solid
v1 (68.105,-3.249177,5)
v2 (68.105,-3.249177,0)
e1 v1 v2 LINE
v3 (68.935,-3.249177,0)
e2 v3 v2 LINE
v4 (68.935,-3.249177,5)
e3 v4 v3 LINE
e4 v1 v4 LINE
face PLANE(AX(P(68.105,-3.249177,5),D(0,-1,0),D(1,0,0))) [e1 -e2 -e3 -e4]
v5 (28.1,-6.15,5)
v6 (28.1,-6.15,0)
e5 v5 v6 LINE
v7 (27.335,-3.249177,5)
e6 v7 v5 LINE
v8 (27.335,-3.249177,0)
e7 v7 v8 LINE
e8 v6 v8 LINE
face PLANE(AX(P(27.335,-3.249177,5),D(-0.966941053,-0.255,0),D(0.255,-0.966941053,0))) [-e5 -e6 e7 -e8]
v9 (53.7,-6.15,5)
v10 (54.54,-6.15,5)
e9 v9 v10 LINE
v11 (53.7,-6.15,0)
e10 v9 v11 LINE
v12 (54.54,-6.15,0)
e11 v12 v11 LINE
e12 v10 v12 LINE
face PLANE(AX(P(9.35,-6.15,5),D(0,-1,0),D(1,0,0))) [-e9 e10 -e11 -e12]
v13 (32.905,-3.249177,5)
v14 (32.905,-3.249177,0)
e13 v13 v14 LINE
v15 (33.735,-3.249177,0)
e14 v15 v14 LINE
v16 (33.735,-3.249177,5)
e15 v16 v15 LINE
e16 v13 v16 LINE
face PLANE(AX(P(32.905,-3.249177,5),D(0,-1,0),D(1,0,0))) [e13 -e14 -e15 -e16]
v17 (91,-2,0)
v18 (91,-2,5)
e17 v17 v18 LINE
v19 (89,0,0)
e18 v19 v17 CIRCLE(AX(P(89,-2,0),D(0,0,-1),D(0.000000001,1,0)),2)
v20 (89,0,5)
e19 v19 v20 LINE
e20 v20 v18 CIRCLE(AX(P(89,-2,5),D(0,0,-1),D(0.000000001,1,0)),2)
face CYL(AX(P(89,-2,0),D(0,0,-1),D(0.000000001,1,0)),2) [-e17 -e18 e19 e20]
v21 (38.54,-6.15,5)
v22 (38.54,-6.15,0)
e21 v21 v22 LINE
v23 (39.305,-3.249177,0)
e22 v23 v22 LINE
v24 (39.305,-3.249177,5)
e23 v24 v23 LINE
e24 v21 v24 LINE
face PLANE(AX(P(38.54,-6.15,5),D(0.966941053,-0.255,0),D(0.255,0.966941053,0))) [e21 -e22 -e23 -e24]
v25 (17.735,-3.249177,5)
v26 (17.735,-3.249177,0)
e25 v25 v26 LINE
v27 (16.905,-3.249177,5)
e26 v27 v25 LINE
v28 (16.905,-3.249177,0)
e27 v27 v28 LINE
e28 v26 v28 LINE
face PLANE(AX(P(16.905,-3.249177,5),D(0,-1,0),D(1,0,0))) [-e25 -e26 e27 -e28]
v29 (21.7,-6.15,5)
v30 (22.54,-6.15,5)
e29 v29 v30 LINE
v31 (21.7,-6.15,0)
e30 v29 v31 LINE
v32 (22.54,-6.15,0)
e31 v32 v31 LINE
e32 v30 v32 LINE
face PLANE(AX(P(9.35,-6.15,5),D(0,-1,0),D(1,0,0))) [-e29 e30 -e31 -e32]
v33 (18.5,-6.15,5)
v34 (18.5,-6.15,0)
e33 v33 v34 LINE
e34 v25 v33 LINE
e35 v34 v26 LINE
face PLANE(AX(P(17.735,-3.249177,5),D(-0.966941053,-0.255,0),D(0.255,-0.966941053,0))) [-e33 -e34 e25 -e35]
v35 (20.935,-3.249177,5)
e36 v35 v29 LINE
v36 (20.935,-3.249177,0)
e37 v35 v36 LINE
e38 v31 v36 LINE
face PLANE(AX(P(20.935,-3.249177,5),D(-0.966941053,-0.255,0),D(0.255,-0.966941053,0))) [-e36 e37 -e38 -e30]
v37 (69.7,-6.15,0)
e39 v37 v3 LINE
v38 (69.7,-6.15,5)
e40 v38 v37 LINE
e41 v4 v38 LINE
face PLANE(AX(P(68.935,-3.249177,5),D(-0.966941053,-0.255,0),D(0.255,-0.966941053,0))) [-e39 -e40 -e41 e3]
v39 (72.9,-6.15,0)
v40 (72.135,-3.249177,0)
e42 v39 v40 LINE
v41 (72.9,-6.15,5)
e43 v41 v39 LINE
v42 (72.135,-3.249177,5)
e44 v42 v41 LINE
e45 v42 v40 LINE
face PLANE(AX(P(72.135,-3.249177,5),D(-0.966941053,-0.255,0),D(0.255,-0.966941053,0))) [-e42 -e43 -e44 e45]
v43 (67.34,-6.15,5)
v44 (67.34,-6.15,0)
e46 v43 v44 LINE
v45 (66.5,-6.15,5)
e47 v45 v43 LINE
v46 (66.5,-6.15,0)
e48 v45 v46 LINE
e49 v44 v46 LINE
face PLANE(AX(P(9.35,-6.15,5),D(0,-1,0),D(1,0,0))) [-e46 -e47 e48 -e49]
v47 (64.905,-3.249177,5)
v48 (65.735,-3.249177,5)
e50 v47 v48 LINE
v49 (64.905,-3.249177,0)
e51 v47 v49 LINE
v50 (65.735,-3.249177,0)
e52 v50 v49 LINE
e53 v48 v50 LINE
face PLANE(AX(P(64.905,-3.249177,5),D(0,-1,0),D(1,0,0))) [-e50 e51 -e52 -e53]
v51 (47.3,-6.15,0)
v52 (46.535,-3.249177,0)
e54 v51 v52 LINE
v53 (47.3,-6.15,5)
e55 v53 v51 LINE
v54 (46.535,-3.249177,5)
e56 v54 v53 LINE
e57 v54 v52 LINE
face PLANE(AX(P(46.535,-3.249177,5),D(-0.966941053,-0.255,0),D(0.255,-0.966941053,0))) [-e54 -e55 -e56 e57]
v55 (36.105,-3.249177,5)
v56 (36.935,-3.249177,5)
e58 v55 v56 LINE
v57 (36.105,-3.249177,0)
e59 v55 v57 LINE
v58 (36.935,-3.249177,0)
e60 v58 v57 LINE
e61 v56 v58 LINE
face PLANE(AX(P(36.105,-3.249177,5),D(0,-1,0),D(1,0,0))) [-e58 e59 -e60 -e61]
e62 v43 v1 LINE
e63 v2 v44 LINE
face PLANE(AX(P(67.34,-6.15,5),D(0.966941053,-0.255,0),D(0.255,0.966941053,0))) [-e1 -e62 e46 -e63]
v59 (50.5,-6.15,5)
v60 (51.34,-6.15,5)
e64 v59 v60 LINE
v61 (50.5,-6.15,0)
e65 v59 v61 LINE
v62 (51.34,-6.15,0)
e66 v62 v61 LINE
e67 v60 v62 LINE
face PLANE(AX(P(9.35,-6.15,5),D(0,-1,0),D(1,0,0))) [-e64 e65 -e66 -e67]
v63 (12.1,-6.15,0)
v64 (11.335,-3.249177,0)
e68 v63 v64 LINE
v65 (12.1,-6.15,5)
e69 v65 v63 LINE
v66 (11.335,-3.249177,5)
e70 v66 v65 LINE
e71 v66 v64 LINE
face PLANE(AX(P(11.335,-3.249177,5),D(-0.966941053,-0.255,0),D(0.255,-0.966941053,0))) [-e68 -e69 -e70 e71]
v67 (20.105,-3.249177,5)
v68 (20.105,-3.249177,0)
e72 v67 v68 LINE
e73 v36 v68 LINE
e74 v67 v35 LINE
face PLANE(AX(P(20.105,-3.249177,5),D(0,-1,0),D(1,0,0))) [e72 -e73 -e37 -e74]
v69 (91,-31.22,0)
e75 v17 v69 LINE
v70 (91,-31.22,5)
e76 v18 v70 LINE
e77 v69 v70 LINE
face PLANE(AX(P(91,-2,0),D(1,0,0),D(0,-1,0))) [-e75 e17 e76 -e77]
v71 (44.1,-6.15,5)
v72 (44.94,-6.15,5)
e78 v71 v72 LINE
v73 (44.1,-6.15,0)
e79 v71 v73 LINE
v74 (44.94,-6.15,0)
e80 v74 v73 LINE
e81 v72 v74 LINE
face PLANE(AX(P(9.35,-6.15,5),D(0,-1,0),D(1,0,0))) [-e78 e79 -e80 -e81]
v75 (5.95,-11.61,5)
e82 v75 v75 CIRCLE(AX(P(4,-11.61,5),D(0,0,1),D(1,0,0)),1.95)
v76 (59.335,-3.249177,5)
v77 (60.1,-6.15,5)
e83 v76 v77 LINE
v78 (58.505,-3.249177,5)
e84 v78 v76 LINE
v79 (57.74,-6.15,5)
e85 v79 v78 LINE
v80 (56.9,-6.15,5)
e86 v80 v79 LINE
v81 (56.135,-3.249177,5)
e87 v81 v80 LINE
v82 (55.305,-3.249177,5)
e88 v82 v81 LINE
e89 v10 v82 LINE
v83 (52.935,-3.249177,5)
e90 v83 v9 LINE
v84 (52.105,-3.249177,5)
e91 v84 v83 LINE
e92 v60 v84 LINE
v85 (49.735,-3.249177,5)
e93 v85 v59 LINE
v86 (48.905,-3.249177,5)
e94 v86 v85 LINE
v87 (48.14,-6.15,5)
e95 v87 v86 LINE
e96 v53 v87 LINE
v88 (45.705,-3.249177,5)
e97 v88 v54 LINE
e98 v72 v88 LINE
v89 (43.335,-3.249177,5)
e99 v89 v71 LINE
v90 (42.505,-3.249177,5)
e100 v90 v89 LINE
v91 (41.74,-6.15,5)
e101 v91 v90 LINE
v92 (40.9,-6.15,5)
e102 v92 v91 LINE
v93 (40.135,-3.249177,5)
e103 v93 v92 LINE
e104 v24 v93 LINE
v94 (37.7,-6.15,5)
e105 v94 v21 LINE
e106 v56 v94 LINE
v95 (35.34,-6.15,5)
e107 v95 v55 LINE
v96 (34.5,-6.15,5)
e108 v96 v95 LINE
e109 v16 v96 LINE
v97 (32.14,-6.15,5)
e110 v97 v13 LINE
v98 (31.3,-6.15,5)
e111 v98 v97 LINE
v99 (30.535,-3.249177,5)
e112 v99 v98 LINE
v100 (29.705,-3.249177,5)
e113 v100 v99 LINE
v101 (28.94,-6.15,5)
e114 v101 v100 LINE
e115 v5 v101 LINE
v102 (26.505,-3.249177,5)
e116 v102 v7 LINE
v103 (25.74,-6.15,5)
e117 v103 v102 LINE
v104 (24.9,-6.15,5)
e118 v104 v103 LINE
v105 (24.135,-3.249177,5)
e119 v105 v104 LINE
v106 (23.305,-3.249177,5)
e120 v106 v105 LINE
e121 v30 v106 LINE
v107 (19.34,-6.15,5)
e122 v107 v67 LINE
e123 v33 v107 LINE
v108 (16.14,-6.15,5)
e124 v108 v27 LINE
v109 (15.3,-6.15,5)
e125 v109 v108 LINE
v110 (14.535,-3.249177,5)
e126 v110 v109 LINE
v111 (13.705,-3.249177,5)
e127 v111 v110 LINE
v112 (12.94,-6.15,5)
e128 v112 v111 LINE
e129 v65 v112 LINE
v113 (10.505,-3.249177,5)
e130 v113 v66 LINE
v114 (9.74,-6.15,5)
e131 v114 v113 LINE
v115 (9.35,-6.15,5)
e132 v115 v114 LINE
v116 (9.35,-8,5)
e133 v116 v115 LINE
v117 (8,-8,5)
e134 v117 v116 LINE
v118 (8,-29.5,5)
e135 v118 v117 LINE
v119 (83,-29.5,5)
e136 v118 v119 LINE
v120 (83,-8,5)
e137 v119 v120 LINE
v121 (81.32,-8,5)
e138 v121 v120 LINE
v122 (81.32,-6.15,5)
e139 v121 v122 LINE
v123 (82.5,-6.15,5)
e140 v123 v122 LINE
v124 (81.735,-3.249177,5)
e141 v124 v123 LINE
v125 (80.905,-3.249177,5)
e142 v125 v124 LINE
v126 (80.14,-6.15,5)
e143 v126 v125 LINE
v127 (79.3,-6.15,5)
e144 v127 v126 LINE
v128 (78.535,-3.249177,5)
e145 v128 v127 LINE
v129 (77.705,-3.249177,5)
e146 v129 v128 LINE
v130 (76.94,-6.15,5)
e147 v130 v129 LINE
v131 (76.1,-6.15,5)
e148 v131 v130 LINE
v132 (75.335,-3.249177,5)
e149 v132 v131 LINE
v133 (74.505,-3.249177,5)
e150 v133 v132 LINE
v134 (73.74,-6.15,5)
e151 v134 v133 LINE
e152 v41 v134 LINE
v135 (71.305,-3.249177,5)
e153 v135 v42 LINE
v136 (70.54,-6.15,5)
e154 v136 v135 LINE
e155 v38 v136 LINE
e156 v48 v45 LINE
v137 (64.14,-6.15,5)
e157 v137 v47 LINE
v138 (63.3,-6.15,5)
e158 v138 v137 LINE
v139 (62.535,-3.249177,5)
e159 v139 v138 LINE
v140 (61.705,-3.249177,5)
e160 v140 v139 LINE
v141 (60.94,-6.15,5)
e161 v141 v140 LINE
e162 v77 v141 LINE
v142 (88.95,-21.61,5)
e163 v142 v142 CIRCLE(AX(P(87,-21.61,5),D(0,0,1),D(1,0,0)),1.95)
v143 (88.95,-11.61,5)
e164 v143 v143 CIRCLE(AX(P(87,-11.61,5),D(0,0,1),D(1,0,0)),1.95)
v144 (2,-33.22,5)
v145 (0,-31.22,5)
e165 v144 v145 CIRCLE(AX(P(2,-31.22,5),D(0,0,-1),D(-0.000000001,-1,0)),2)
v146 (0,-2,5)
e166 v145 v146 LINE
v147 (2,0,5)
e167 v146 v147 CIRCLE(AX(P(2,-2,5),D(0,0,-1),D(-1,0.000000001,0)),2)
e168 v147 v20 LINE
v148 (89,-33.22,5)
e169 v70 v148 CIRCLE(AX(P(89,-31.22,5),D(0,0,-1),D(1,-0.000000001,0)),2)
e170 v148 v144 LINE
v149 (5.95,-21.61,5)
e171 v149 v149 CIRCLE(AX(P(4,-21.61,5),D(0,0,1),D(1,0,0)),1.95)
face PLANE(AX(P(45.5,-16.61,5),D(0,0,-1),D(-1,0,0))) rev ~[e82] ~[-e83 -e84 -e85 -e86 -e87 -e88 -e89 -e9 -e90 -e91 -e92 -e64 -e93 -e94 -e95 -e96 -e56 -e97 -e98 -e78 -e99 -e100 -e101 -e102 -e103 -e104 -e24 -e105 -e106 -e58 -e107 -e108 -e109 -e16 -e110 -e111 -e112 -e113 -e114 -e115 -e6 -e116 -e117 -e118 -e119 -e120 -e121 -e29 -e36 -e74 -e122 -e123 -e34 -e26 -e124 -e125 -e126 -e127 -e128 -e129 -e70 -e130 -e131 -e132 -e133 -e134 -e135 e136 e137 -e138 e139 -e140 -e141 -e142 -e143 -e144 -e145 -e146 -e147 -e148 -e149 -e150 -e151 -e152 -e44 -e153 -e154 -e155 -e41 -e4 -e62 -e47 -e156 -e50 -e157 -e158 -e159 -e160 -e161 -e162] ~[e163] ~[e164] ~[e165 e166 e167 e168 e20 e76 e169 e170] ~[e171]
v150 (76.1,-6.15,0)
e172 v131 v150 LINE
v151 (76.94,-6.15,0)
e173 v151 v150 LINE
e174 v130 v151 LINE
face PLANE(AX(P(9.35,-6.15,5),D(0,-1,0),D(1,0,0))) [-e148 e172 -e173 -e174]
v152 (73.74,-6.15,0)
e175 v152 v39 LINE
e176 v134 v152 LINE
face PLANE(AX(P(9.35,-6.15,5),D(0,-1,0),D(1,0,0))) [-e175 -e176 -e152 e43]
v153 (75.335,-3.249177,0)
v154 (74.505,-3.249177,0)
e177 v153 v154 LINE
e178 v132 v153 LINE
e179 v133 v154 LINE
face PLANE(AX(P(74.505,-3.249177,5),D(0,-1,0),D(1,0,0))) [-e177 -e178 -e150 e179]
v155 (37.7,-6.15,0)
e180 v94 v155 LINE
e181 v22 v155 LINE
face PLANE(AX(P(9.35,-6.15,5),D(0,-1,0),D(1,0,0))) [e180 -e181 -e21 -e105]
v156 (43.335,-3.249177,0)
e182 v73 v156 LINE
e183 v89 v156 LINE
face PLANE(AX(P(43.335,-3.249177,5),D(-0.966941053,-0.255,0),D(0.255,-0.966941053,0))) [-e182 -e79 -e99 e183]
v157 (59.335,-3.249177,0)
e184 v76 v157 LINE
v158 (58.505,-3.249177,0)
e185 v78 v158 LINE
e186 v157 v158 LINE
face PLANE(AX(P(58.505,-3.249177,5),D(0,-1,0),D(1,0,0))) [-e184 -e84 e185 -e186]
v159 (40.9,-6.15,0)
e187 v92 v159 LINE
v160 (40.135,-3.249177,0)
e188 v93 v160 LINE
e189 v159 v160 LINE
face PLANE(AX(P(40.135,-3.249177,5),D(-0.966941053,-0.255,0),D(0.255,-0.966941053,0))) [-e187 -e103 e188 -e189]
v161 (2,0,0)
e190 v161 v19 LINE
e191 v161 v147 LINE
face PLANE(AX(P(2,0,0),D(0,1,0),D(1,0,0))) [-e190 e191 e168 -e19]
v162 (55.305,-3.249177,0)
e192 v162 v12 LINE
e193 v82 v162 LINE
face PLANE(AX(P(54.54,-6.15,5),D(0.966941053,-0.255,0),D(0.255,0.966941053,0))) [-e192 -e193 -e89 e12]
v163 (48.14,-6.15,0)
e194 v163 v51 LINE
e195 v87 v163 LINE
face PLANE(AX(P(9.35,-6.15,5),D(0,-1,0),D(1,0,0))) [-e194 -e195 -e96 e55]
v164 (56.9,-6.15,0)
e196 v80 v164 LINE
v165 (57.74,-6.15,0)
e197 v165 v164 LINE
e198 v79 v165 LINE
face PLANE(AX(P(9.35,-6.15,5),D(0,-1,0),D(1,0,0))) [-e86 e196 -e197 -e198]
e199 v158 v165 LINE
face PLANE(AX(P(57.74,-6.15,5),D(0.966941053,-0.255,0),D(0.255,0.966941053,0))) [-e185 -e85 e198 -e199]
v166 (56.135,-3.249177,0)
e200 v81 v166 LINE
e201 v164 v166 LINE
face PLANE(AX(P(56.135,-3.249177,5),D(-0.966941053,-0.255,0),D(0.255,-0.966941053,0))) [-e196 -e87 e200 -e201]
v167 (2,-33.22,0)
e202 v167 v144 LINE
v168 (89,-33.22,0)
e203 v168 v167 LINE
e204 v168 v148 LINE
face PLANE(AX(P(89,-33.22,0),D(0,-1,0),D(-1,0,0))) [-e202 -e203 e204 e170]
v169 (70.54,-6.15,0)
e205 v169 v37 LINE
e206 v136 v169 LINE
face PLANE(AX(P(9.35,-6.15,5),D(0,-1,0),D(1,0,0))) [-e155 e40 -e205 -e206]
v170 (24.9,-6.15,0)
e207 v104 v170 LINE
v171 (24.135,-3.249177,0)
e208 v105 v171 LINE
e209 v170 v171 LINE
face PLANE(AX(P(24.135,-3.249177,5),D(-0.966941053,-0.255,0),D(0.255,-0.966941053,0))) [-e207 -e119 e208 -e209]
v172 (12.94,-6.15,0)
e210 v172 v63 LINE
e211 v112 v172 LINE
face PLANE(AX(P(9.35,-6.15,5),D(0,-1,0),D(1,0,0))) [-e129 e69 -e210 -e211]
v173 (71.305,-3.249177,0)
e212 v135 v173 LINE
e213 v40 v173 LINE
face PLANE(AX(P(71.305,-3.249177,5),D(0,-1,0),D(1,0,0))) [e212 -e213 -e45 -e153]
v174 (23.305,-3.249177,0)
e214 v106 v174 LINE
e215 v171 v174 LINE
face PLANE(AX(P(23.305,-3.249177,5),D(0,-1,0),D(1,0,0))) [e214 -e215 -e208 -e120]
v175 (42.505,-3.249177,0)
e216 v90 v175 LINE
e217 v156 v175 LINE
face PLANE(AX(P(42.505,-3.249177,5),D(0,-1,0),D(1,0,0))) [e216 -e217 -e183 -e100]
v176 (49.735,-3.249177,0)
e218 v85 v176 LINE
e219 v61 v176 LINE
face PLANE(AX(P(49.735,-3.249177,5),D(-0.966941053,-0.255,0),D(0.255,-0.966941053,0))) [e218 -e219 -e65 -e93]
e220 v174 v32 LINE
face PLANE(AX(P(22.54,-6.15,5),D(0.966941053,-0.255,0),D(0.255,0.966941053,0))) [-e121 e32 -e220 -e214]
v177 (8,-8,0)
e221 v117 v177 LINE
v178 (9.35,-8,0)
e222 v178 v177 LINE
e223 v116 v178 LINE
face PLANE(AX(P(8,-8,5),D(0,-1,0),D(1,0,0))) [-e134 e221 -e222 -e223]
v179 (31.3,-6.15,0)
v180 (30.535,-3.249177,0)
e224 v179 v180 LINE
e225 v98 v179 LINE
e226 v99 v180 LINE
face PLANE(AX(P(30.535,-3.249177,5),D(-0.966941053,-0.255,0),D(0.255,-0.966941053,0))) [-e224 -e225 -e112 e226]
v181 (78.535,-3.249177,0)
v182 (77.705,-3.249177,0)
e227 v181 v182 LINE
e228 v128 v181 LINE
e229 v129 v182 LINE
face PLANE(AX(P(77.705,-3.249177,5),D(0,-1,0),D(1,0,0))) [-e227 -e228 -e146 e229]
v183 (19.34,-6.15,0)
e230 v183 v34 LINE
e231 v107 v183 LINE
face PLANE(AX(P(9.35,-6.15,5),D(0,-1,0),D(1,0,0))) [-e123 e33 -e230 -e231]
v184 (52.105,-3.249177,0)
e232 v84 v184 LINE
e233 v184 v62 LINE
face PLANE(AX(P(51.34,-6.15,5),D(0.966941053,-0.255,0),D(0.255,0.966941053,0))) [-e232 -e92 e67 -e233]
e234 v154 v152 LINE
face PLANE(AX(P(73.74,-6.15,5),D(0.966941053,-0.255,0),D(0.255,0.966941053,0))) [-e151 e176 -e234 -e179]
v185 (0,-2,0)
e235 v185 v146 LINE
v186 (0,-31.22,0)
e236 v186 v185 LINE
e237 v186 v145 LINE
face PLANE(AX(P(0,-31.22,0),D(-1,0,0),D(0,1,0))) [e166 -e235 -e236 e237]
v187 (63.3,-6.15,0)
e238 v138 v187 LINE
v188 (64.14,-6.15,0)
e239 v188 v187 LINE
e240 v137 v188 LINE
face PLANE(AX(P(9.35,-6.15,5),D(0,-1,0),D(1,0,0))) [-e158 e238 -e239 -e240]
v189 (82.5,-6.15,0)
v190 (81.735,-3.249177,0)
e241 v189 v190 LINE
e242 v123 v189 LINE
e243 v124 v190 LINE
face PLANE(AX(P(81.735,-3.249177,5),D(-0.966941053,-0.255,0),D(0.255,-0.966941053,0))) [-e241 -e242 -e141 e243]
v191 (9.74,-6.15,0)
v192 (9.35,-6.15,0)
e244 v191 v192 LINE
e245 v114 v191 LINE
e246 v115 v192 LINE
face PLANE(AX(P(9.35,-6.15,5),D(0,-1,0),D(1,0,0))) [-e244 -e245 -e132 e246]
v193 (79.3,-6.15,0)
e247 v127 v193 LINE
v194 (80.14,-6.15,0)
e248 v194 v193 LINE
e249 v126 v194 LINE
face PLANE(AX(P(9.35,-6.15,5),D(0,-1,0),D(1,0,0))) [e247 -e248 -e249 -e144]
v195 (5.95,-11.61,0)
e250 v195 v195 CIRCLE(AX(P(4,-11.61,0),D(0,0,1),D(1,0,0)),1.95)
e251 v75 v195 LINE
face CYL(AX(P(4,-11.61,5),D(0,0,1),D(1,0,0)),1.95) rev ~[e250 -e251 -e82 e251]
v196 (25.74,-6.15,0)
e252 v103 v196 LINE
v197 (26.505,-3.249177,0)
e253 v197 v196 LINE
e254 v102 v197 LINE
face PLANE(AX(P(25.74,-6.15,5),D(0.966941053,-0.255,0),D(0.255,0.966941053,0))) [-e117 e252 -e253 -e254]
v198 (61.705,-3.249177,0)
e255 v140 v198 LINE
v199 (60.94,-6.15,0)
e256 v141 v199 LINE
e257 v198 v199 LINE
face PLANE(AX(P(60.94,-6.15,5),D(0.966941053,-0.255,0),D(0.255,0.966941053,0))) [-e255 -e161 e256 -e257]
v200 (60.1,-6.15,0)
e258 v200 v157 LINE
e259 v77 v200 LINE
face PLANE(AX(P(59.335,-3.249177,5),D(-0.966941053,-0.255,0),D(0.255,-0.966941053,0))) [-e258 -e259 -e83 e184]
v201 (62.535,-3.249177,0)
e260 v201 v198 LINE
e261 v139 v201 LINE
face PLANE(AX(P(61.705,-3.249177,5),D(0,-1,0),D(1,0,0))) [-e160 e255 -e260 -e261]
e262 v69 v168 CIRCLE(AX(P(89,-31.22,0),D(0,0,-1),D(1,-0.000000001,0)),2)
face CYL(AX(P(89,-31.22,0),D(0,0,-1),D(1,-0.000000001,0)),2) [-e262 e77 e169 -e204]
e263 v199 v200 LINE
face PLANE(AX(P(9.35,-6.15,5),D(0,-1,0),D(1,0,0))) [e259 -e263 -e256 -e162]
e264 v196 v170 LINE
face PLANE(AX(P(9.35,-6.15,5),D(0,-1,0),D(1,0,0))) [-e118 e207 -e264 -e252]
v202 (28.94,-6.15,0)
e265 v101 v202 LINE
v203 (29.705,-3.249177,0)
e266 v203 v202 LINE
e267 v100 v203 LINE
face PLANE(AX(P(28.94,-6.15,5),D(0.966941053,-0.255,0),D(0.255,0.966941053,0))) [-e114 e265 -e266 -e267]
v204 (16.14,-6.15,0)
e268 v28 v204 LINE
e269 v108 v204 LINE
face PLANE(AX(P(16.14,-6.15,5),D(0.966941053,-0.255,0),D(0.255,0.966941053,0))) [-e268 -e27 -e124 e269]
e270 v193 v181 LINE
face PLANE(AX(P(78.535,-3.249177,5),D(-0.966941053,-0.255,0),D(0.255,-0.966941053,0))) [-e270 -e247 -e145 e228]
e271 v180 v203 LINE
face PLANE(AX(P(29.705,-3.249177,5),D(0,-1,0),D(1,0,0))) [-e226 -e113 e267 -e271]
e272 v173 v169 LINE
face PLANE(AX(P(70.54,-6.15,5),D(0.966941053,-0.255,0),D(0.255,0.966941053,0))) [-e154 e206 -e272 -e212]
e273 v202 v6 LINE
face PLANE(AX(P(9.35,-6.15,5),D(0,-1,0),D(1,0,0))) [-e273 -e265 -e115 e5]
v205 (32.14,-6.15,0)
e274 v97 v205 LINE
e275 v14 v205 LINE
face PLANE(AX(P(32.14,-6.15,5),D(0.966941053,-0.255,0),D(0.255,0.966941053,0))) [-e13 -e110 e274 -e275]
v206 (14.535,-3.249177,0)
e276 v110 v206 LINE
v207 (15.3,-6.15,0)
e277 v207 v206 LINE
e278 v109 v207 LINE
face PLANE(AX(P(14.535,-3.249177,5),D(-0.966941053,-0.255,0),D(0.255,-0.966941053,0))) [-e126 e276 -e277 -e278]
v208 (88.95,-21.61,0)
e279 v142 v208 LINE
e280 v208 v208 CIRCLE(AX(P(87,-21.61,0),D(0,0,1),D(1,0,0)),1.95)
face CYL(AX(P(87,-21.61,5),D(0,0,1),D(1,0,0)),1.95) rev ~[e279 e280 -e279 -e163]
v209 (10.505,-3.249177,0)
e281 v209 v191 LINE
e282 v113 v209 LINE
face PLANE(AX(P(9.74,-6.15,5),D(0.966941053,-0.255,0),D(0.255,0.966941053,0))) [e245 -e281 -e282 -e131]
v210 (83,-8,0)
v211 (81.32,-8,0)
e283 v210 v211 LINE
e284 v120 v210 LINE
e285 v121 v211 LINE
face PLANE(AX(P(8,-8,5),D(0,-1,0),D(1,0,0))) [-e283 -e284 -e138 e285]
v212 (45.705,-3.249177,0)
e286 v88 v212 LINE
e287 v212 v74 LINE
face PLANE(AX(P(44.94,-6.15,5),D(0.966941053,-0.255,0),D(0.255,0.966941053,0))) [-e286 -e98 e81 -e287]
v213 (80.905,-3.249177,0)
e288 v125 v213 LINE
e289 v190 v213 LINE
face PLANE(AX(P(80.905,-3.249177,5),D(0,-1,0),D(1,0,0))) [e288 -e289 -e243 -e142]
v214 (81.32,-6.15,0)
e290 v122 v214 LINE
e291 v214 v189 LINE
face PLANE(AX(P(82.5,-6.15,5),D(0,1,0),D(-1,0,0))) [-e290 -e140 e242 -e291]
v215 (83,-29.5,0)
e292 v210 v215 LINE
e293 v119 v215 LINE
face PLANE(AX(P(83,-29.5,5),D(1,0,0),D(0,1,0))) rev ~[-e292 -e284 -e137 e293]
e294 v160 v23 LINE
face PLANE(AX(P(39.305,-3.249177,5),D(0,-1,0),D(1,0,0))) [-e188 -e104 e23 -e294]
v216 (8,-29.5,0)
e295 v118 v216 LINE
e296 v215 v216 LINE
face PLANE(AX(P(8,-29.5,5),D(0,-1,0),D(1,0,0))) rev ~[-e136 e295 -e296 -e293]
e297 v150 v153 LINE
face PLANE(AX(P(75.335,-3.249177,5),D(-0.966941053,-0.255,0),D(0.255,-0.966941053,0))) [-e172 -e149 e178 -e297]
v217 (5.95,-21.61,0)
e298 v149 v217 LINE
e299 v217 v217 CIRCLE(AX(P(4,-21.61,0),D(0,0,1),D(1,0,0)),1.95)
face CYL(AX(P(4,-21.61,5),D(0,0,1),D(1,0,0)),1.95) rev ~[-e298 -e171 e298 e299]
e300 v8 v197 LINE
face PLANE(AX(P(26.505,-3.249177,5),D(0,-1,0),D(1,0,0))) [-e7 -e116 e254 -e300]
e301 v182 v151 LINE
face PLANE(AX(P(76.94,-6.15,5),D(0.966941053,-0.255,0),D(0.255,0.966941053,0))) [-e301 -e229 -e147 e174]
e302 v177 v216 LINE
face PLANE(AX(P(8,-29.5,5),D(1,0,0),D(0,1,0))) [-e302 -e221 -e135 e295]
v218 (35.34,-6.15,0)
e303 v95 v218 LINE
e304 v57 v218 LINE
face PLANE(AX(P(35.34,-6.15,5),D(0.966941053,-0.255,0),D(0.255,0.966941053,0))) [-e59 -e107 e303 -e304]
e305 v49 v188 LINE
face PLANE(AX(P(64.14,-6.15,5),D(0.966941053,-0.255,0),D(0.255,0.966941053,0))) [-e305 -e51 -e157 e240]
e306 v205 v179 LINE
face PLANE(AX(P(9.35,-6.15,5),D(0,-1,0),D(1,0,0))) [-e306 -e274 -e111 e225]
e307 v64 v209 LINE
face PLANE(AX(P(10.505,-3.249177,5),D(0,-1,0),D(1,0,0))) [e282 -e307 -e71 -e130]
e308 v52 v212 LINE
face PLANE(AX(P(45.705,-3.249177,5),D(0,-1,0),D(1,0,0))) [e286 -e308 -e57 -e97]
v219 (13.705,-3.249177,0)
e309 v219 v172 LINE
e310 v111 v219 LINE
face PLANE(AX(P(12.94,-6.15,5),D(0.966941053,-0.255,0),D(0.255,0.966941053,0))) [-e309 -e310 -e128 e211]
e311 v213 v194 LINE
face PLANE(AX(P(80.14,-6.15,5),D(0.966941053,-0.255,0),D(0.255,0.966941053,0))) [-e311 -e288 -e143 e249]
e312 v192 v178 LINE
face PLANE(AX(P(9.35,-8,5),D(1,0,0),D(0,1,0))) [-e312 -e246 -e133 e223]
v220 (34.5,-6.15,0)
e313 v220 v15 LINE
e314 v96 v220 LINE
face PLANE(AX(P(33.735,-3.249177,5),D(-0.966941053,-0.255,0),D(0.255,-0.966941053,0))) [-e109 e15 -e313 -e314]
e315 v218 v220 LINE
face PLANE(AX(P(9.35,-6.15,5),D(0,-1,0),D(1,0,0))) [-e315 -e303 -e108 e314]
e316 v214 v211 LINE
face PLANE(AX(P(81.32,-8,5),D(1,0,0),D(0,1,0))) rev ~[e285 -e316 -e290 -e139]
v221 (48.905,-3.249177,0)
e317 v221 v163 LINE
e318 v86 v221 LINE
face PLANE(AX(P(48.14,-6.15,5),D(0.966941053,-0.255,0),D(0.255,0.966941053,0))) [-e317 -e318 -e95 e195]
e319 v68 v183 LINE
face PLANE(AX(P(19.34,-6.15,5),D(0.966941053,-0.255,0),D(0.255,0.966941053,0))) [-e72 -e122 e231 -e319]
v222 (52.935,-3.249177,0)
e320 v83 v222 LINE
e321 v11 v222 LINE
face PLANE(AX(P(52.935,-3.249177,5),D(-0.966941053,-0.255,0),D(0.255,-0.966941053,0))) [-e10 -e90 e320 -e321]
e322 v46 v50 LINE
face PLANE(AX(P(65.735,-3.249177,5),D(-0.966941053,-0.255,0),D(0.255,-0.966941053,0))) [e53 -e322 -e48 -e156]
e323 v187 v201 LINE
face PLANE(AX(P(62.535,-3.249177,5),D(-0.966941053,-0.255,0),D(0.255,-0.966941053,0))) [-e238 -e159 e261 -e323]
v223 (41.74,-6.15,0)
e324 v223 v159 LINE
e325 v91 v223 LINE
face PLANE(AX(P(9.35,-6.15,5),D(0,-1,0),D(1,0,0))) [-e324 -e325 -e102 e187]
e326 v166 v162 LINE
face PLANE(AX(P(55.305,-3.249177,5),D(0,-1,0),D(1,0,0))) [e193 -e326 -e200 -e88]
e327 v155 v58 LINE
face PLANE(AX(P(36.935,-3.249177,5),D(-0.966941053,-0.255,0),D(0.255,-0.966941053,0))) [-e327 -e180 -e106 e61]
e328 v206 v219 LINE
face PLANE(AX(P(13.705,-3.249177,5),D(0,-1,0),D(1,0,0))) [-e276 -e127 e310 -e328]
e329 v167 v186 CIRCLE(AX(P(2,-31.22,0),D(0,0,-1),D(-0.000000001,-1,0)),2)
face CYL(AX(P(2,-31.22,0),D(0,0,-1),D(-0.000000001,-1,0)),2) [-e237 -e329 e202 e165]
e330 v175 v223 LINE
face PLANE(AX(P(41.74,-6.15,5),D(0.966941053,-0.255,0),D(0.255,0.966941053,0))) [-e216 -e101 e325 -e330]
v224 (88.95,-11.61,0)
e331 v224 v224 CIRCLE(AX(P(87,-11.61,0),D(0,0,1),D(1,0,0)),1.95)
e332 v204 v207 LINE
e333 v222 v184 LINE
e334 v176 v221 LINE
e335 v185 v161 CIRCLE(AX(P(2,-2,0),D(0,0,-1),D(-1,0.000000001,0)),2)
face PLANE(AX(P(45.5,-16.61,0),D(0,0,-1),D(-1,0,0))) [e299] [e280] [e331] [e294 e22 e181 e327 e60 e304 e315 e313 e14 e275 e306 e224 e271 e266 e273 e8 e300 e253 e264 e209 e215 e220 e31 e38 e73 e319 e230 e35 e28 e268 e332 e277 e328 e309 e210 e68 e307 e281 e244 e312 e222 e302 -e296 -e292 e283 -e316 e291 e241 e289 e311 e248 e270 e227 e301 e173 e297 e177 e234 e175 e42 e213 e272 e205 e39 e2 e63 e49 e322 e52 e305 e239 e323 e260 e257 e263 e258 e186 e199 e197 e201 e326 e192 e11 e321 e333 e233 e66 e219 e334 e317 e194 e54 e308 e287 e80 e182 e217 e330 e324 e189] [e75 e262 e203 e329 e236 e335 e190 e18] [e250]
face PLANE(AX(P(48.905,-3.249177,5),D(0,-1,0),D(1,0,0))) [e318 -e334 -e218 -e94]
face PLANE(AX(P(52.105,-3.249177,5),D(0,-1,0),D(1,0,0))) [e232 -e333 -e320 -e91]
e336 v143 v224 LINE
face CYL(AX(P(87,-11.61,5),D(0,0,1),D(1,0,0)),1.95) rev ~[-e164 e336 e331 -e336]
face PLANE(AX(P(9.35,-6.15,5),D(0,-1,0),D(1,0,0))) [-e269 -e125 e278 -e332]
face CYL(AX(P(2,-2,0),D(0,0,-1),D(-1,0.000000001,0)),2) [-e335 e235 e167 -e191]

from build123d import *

# Parameters (mm, degrees)
BOSS_EXTRUDE1_DEPTH = 5
SKETCH2_W           = 75
SKETCH2_H           = 21.5
CUT_EXTRUDE1_DEPTH  = 6
SKETCH3_W           = 71.97
SKETCH3_H           = 1.85
CUT_EXTRUDE2_DEPTH  = 6
CUT_EXTRUDE4_DEPTH  = 6
LPATTERN1_COUNT     = 23
LPATTERN1_PITCH     = 3.2
SKETCH5_R           = 1.95
CUT_EXTRUDE5_DEPTH  = 10


with BuildPart() as part:
    # Sketch1 → Boss-Extrude1 (new body)
    with BuildSketch(Plane.XY):
        with BuildLine():
            Line((2, 0), (89, 0))
            ThreePointArc((89, 0), (90.414213562, -0.585786438), (91, -2))
            Line((91, -2), (91, -31.22))
            ThreePointArc((91, -31.22), (90.414213562, -32.634213562), (89, -33.22))
            Line((89, -33.22), (2, -33.22))
            ThreePointArc((2, -33.22), (0.585786438, -32.634213562), (0, -31.22))
            Line((0, -31.22), (0, -2))
            ThreePointArc((0, -2), (0.585786438, -0.585786438), (2, 0))
        make_face()
    extrude(amount=BOSS_EXTRUDE1_DEPTH)

    # Sketch2 → Cut-Extrude1 (cut, through all)
    with BuildSketch(Plane.XY.offset(5)):
        with Locations((45.5, -18.75)):
            Rectangle(SKETCH2_W, SKETCH2_H)
    extrude(amount=-CUT_EXTRUDE1_DEPTH, mode=Mode.SUBTRACT)

    # Sketch3 → Cut-Extrude2 (cut, through all)
    with BuildSketch(Plane.XY.offset(5)):
        with Locations((45.335, -7.075)):
            Rectangle(SKETCH3_W, SKETCH3_H)
    extrude(amount=-CUT_EXTRUDE2_DEPTH, mode=Mode.SUBTRACT)

    # Sketch4 → Cut-Extrude4 (cut, through all)
    with BuildSketch(Plane.XY.offset(5)):
        Polygon((81.735, -3.249176841), (82.5, -6.15), (80.14, -6.15), (80.905, -3.249176841), align=None)
    cut_extrude4 = extrude(amount=-CUT_EXTRUDE4_DEPTH, mode=Mode.SUBTRACT)

    # LPattern1: Cut-Extrude4 ×23
    with Locations(*[(-i * LPATTERN1_PITCH, 0, 0) for i in range(1, LPATTERN1_COUNT)]):
        add(cut_extrude4, mode=Mode.SUBTRACT)

    # Sketch5 → Cut-Extrude5 (cut)
    with BuildSketch(Plane.XY.offset(5)):
        with Locations((4, -11.61)):
            Circle(SKETCH5_R)
        with Locations((4, -21.61)):
            Circle(SKETCH5_R)
        with Locations((87, -11.61)):
            Circle(SKETCH5_R)
        with Locations((87, -21.61)):
            Circle(SKETCH5_R)
    extrude(amount=-CUT_EXTRUDE5_DEPTH, mode=Mode.SUBTRACT)


solid = part.part
